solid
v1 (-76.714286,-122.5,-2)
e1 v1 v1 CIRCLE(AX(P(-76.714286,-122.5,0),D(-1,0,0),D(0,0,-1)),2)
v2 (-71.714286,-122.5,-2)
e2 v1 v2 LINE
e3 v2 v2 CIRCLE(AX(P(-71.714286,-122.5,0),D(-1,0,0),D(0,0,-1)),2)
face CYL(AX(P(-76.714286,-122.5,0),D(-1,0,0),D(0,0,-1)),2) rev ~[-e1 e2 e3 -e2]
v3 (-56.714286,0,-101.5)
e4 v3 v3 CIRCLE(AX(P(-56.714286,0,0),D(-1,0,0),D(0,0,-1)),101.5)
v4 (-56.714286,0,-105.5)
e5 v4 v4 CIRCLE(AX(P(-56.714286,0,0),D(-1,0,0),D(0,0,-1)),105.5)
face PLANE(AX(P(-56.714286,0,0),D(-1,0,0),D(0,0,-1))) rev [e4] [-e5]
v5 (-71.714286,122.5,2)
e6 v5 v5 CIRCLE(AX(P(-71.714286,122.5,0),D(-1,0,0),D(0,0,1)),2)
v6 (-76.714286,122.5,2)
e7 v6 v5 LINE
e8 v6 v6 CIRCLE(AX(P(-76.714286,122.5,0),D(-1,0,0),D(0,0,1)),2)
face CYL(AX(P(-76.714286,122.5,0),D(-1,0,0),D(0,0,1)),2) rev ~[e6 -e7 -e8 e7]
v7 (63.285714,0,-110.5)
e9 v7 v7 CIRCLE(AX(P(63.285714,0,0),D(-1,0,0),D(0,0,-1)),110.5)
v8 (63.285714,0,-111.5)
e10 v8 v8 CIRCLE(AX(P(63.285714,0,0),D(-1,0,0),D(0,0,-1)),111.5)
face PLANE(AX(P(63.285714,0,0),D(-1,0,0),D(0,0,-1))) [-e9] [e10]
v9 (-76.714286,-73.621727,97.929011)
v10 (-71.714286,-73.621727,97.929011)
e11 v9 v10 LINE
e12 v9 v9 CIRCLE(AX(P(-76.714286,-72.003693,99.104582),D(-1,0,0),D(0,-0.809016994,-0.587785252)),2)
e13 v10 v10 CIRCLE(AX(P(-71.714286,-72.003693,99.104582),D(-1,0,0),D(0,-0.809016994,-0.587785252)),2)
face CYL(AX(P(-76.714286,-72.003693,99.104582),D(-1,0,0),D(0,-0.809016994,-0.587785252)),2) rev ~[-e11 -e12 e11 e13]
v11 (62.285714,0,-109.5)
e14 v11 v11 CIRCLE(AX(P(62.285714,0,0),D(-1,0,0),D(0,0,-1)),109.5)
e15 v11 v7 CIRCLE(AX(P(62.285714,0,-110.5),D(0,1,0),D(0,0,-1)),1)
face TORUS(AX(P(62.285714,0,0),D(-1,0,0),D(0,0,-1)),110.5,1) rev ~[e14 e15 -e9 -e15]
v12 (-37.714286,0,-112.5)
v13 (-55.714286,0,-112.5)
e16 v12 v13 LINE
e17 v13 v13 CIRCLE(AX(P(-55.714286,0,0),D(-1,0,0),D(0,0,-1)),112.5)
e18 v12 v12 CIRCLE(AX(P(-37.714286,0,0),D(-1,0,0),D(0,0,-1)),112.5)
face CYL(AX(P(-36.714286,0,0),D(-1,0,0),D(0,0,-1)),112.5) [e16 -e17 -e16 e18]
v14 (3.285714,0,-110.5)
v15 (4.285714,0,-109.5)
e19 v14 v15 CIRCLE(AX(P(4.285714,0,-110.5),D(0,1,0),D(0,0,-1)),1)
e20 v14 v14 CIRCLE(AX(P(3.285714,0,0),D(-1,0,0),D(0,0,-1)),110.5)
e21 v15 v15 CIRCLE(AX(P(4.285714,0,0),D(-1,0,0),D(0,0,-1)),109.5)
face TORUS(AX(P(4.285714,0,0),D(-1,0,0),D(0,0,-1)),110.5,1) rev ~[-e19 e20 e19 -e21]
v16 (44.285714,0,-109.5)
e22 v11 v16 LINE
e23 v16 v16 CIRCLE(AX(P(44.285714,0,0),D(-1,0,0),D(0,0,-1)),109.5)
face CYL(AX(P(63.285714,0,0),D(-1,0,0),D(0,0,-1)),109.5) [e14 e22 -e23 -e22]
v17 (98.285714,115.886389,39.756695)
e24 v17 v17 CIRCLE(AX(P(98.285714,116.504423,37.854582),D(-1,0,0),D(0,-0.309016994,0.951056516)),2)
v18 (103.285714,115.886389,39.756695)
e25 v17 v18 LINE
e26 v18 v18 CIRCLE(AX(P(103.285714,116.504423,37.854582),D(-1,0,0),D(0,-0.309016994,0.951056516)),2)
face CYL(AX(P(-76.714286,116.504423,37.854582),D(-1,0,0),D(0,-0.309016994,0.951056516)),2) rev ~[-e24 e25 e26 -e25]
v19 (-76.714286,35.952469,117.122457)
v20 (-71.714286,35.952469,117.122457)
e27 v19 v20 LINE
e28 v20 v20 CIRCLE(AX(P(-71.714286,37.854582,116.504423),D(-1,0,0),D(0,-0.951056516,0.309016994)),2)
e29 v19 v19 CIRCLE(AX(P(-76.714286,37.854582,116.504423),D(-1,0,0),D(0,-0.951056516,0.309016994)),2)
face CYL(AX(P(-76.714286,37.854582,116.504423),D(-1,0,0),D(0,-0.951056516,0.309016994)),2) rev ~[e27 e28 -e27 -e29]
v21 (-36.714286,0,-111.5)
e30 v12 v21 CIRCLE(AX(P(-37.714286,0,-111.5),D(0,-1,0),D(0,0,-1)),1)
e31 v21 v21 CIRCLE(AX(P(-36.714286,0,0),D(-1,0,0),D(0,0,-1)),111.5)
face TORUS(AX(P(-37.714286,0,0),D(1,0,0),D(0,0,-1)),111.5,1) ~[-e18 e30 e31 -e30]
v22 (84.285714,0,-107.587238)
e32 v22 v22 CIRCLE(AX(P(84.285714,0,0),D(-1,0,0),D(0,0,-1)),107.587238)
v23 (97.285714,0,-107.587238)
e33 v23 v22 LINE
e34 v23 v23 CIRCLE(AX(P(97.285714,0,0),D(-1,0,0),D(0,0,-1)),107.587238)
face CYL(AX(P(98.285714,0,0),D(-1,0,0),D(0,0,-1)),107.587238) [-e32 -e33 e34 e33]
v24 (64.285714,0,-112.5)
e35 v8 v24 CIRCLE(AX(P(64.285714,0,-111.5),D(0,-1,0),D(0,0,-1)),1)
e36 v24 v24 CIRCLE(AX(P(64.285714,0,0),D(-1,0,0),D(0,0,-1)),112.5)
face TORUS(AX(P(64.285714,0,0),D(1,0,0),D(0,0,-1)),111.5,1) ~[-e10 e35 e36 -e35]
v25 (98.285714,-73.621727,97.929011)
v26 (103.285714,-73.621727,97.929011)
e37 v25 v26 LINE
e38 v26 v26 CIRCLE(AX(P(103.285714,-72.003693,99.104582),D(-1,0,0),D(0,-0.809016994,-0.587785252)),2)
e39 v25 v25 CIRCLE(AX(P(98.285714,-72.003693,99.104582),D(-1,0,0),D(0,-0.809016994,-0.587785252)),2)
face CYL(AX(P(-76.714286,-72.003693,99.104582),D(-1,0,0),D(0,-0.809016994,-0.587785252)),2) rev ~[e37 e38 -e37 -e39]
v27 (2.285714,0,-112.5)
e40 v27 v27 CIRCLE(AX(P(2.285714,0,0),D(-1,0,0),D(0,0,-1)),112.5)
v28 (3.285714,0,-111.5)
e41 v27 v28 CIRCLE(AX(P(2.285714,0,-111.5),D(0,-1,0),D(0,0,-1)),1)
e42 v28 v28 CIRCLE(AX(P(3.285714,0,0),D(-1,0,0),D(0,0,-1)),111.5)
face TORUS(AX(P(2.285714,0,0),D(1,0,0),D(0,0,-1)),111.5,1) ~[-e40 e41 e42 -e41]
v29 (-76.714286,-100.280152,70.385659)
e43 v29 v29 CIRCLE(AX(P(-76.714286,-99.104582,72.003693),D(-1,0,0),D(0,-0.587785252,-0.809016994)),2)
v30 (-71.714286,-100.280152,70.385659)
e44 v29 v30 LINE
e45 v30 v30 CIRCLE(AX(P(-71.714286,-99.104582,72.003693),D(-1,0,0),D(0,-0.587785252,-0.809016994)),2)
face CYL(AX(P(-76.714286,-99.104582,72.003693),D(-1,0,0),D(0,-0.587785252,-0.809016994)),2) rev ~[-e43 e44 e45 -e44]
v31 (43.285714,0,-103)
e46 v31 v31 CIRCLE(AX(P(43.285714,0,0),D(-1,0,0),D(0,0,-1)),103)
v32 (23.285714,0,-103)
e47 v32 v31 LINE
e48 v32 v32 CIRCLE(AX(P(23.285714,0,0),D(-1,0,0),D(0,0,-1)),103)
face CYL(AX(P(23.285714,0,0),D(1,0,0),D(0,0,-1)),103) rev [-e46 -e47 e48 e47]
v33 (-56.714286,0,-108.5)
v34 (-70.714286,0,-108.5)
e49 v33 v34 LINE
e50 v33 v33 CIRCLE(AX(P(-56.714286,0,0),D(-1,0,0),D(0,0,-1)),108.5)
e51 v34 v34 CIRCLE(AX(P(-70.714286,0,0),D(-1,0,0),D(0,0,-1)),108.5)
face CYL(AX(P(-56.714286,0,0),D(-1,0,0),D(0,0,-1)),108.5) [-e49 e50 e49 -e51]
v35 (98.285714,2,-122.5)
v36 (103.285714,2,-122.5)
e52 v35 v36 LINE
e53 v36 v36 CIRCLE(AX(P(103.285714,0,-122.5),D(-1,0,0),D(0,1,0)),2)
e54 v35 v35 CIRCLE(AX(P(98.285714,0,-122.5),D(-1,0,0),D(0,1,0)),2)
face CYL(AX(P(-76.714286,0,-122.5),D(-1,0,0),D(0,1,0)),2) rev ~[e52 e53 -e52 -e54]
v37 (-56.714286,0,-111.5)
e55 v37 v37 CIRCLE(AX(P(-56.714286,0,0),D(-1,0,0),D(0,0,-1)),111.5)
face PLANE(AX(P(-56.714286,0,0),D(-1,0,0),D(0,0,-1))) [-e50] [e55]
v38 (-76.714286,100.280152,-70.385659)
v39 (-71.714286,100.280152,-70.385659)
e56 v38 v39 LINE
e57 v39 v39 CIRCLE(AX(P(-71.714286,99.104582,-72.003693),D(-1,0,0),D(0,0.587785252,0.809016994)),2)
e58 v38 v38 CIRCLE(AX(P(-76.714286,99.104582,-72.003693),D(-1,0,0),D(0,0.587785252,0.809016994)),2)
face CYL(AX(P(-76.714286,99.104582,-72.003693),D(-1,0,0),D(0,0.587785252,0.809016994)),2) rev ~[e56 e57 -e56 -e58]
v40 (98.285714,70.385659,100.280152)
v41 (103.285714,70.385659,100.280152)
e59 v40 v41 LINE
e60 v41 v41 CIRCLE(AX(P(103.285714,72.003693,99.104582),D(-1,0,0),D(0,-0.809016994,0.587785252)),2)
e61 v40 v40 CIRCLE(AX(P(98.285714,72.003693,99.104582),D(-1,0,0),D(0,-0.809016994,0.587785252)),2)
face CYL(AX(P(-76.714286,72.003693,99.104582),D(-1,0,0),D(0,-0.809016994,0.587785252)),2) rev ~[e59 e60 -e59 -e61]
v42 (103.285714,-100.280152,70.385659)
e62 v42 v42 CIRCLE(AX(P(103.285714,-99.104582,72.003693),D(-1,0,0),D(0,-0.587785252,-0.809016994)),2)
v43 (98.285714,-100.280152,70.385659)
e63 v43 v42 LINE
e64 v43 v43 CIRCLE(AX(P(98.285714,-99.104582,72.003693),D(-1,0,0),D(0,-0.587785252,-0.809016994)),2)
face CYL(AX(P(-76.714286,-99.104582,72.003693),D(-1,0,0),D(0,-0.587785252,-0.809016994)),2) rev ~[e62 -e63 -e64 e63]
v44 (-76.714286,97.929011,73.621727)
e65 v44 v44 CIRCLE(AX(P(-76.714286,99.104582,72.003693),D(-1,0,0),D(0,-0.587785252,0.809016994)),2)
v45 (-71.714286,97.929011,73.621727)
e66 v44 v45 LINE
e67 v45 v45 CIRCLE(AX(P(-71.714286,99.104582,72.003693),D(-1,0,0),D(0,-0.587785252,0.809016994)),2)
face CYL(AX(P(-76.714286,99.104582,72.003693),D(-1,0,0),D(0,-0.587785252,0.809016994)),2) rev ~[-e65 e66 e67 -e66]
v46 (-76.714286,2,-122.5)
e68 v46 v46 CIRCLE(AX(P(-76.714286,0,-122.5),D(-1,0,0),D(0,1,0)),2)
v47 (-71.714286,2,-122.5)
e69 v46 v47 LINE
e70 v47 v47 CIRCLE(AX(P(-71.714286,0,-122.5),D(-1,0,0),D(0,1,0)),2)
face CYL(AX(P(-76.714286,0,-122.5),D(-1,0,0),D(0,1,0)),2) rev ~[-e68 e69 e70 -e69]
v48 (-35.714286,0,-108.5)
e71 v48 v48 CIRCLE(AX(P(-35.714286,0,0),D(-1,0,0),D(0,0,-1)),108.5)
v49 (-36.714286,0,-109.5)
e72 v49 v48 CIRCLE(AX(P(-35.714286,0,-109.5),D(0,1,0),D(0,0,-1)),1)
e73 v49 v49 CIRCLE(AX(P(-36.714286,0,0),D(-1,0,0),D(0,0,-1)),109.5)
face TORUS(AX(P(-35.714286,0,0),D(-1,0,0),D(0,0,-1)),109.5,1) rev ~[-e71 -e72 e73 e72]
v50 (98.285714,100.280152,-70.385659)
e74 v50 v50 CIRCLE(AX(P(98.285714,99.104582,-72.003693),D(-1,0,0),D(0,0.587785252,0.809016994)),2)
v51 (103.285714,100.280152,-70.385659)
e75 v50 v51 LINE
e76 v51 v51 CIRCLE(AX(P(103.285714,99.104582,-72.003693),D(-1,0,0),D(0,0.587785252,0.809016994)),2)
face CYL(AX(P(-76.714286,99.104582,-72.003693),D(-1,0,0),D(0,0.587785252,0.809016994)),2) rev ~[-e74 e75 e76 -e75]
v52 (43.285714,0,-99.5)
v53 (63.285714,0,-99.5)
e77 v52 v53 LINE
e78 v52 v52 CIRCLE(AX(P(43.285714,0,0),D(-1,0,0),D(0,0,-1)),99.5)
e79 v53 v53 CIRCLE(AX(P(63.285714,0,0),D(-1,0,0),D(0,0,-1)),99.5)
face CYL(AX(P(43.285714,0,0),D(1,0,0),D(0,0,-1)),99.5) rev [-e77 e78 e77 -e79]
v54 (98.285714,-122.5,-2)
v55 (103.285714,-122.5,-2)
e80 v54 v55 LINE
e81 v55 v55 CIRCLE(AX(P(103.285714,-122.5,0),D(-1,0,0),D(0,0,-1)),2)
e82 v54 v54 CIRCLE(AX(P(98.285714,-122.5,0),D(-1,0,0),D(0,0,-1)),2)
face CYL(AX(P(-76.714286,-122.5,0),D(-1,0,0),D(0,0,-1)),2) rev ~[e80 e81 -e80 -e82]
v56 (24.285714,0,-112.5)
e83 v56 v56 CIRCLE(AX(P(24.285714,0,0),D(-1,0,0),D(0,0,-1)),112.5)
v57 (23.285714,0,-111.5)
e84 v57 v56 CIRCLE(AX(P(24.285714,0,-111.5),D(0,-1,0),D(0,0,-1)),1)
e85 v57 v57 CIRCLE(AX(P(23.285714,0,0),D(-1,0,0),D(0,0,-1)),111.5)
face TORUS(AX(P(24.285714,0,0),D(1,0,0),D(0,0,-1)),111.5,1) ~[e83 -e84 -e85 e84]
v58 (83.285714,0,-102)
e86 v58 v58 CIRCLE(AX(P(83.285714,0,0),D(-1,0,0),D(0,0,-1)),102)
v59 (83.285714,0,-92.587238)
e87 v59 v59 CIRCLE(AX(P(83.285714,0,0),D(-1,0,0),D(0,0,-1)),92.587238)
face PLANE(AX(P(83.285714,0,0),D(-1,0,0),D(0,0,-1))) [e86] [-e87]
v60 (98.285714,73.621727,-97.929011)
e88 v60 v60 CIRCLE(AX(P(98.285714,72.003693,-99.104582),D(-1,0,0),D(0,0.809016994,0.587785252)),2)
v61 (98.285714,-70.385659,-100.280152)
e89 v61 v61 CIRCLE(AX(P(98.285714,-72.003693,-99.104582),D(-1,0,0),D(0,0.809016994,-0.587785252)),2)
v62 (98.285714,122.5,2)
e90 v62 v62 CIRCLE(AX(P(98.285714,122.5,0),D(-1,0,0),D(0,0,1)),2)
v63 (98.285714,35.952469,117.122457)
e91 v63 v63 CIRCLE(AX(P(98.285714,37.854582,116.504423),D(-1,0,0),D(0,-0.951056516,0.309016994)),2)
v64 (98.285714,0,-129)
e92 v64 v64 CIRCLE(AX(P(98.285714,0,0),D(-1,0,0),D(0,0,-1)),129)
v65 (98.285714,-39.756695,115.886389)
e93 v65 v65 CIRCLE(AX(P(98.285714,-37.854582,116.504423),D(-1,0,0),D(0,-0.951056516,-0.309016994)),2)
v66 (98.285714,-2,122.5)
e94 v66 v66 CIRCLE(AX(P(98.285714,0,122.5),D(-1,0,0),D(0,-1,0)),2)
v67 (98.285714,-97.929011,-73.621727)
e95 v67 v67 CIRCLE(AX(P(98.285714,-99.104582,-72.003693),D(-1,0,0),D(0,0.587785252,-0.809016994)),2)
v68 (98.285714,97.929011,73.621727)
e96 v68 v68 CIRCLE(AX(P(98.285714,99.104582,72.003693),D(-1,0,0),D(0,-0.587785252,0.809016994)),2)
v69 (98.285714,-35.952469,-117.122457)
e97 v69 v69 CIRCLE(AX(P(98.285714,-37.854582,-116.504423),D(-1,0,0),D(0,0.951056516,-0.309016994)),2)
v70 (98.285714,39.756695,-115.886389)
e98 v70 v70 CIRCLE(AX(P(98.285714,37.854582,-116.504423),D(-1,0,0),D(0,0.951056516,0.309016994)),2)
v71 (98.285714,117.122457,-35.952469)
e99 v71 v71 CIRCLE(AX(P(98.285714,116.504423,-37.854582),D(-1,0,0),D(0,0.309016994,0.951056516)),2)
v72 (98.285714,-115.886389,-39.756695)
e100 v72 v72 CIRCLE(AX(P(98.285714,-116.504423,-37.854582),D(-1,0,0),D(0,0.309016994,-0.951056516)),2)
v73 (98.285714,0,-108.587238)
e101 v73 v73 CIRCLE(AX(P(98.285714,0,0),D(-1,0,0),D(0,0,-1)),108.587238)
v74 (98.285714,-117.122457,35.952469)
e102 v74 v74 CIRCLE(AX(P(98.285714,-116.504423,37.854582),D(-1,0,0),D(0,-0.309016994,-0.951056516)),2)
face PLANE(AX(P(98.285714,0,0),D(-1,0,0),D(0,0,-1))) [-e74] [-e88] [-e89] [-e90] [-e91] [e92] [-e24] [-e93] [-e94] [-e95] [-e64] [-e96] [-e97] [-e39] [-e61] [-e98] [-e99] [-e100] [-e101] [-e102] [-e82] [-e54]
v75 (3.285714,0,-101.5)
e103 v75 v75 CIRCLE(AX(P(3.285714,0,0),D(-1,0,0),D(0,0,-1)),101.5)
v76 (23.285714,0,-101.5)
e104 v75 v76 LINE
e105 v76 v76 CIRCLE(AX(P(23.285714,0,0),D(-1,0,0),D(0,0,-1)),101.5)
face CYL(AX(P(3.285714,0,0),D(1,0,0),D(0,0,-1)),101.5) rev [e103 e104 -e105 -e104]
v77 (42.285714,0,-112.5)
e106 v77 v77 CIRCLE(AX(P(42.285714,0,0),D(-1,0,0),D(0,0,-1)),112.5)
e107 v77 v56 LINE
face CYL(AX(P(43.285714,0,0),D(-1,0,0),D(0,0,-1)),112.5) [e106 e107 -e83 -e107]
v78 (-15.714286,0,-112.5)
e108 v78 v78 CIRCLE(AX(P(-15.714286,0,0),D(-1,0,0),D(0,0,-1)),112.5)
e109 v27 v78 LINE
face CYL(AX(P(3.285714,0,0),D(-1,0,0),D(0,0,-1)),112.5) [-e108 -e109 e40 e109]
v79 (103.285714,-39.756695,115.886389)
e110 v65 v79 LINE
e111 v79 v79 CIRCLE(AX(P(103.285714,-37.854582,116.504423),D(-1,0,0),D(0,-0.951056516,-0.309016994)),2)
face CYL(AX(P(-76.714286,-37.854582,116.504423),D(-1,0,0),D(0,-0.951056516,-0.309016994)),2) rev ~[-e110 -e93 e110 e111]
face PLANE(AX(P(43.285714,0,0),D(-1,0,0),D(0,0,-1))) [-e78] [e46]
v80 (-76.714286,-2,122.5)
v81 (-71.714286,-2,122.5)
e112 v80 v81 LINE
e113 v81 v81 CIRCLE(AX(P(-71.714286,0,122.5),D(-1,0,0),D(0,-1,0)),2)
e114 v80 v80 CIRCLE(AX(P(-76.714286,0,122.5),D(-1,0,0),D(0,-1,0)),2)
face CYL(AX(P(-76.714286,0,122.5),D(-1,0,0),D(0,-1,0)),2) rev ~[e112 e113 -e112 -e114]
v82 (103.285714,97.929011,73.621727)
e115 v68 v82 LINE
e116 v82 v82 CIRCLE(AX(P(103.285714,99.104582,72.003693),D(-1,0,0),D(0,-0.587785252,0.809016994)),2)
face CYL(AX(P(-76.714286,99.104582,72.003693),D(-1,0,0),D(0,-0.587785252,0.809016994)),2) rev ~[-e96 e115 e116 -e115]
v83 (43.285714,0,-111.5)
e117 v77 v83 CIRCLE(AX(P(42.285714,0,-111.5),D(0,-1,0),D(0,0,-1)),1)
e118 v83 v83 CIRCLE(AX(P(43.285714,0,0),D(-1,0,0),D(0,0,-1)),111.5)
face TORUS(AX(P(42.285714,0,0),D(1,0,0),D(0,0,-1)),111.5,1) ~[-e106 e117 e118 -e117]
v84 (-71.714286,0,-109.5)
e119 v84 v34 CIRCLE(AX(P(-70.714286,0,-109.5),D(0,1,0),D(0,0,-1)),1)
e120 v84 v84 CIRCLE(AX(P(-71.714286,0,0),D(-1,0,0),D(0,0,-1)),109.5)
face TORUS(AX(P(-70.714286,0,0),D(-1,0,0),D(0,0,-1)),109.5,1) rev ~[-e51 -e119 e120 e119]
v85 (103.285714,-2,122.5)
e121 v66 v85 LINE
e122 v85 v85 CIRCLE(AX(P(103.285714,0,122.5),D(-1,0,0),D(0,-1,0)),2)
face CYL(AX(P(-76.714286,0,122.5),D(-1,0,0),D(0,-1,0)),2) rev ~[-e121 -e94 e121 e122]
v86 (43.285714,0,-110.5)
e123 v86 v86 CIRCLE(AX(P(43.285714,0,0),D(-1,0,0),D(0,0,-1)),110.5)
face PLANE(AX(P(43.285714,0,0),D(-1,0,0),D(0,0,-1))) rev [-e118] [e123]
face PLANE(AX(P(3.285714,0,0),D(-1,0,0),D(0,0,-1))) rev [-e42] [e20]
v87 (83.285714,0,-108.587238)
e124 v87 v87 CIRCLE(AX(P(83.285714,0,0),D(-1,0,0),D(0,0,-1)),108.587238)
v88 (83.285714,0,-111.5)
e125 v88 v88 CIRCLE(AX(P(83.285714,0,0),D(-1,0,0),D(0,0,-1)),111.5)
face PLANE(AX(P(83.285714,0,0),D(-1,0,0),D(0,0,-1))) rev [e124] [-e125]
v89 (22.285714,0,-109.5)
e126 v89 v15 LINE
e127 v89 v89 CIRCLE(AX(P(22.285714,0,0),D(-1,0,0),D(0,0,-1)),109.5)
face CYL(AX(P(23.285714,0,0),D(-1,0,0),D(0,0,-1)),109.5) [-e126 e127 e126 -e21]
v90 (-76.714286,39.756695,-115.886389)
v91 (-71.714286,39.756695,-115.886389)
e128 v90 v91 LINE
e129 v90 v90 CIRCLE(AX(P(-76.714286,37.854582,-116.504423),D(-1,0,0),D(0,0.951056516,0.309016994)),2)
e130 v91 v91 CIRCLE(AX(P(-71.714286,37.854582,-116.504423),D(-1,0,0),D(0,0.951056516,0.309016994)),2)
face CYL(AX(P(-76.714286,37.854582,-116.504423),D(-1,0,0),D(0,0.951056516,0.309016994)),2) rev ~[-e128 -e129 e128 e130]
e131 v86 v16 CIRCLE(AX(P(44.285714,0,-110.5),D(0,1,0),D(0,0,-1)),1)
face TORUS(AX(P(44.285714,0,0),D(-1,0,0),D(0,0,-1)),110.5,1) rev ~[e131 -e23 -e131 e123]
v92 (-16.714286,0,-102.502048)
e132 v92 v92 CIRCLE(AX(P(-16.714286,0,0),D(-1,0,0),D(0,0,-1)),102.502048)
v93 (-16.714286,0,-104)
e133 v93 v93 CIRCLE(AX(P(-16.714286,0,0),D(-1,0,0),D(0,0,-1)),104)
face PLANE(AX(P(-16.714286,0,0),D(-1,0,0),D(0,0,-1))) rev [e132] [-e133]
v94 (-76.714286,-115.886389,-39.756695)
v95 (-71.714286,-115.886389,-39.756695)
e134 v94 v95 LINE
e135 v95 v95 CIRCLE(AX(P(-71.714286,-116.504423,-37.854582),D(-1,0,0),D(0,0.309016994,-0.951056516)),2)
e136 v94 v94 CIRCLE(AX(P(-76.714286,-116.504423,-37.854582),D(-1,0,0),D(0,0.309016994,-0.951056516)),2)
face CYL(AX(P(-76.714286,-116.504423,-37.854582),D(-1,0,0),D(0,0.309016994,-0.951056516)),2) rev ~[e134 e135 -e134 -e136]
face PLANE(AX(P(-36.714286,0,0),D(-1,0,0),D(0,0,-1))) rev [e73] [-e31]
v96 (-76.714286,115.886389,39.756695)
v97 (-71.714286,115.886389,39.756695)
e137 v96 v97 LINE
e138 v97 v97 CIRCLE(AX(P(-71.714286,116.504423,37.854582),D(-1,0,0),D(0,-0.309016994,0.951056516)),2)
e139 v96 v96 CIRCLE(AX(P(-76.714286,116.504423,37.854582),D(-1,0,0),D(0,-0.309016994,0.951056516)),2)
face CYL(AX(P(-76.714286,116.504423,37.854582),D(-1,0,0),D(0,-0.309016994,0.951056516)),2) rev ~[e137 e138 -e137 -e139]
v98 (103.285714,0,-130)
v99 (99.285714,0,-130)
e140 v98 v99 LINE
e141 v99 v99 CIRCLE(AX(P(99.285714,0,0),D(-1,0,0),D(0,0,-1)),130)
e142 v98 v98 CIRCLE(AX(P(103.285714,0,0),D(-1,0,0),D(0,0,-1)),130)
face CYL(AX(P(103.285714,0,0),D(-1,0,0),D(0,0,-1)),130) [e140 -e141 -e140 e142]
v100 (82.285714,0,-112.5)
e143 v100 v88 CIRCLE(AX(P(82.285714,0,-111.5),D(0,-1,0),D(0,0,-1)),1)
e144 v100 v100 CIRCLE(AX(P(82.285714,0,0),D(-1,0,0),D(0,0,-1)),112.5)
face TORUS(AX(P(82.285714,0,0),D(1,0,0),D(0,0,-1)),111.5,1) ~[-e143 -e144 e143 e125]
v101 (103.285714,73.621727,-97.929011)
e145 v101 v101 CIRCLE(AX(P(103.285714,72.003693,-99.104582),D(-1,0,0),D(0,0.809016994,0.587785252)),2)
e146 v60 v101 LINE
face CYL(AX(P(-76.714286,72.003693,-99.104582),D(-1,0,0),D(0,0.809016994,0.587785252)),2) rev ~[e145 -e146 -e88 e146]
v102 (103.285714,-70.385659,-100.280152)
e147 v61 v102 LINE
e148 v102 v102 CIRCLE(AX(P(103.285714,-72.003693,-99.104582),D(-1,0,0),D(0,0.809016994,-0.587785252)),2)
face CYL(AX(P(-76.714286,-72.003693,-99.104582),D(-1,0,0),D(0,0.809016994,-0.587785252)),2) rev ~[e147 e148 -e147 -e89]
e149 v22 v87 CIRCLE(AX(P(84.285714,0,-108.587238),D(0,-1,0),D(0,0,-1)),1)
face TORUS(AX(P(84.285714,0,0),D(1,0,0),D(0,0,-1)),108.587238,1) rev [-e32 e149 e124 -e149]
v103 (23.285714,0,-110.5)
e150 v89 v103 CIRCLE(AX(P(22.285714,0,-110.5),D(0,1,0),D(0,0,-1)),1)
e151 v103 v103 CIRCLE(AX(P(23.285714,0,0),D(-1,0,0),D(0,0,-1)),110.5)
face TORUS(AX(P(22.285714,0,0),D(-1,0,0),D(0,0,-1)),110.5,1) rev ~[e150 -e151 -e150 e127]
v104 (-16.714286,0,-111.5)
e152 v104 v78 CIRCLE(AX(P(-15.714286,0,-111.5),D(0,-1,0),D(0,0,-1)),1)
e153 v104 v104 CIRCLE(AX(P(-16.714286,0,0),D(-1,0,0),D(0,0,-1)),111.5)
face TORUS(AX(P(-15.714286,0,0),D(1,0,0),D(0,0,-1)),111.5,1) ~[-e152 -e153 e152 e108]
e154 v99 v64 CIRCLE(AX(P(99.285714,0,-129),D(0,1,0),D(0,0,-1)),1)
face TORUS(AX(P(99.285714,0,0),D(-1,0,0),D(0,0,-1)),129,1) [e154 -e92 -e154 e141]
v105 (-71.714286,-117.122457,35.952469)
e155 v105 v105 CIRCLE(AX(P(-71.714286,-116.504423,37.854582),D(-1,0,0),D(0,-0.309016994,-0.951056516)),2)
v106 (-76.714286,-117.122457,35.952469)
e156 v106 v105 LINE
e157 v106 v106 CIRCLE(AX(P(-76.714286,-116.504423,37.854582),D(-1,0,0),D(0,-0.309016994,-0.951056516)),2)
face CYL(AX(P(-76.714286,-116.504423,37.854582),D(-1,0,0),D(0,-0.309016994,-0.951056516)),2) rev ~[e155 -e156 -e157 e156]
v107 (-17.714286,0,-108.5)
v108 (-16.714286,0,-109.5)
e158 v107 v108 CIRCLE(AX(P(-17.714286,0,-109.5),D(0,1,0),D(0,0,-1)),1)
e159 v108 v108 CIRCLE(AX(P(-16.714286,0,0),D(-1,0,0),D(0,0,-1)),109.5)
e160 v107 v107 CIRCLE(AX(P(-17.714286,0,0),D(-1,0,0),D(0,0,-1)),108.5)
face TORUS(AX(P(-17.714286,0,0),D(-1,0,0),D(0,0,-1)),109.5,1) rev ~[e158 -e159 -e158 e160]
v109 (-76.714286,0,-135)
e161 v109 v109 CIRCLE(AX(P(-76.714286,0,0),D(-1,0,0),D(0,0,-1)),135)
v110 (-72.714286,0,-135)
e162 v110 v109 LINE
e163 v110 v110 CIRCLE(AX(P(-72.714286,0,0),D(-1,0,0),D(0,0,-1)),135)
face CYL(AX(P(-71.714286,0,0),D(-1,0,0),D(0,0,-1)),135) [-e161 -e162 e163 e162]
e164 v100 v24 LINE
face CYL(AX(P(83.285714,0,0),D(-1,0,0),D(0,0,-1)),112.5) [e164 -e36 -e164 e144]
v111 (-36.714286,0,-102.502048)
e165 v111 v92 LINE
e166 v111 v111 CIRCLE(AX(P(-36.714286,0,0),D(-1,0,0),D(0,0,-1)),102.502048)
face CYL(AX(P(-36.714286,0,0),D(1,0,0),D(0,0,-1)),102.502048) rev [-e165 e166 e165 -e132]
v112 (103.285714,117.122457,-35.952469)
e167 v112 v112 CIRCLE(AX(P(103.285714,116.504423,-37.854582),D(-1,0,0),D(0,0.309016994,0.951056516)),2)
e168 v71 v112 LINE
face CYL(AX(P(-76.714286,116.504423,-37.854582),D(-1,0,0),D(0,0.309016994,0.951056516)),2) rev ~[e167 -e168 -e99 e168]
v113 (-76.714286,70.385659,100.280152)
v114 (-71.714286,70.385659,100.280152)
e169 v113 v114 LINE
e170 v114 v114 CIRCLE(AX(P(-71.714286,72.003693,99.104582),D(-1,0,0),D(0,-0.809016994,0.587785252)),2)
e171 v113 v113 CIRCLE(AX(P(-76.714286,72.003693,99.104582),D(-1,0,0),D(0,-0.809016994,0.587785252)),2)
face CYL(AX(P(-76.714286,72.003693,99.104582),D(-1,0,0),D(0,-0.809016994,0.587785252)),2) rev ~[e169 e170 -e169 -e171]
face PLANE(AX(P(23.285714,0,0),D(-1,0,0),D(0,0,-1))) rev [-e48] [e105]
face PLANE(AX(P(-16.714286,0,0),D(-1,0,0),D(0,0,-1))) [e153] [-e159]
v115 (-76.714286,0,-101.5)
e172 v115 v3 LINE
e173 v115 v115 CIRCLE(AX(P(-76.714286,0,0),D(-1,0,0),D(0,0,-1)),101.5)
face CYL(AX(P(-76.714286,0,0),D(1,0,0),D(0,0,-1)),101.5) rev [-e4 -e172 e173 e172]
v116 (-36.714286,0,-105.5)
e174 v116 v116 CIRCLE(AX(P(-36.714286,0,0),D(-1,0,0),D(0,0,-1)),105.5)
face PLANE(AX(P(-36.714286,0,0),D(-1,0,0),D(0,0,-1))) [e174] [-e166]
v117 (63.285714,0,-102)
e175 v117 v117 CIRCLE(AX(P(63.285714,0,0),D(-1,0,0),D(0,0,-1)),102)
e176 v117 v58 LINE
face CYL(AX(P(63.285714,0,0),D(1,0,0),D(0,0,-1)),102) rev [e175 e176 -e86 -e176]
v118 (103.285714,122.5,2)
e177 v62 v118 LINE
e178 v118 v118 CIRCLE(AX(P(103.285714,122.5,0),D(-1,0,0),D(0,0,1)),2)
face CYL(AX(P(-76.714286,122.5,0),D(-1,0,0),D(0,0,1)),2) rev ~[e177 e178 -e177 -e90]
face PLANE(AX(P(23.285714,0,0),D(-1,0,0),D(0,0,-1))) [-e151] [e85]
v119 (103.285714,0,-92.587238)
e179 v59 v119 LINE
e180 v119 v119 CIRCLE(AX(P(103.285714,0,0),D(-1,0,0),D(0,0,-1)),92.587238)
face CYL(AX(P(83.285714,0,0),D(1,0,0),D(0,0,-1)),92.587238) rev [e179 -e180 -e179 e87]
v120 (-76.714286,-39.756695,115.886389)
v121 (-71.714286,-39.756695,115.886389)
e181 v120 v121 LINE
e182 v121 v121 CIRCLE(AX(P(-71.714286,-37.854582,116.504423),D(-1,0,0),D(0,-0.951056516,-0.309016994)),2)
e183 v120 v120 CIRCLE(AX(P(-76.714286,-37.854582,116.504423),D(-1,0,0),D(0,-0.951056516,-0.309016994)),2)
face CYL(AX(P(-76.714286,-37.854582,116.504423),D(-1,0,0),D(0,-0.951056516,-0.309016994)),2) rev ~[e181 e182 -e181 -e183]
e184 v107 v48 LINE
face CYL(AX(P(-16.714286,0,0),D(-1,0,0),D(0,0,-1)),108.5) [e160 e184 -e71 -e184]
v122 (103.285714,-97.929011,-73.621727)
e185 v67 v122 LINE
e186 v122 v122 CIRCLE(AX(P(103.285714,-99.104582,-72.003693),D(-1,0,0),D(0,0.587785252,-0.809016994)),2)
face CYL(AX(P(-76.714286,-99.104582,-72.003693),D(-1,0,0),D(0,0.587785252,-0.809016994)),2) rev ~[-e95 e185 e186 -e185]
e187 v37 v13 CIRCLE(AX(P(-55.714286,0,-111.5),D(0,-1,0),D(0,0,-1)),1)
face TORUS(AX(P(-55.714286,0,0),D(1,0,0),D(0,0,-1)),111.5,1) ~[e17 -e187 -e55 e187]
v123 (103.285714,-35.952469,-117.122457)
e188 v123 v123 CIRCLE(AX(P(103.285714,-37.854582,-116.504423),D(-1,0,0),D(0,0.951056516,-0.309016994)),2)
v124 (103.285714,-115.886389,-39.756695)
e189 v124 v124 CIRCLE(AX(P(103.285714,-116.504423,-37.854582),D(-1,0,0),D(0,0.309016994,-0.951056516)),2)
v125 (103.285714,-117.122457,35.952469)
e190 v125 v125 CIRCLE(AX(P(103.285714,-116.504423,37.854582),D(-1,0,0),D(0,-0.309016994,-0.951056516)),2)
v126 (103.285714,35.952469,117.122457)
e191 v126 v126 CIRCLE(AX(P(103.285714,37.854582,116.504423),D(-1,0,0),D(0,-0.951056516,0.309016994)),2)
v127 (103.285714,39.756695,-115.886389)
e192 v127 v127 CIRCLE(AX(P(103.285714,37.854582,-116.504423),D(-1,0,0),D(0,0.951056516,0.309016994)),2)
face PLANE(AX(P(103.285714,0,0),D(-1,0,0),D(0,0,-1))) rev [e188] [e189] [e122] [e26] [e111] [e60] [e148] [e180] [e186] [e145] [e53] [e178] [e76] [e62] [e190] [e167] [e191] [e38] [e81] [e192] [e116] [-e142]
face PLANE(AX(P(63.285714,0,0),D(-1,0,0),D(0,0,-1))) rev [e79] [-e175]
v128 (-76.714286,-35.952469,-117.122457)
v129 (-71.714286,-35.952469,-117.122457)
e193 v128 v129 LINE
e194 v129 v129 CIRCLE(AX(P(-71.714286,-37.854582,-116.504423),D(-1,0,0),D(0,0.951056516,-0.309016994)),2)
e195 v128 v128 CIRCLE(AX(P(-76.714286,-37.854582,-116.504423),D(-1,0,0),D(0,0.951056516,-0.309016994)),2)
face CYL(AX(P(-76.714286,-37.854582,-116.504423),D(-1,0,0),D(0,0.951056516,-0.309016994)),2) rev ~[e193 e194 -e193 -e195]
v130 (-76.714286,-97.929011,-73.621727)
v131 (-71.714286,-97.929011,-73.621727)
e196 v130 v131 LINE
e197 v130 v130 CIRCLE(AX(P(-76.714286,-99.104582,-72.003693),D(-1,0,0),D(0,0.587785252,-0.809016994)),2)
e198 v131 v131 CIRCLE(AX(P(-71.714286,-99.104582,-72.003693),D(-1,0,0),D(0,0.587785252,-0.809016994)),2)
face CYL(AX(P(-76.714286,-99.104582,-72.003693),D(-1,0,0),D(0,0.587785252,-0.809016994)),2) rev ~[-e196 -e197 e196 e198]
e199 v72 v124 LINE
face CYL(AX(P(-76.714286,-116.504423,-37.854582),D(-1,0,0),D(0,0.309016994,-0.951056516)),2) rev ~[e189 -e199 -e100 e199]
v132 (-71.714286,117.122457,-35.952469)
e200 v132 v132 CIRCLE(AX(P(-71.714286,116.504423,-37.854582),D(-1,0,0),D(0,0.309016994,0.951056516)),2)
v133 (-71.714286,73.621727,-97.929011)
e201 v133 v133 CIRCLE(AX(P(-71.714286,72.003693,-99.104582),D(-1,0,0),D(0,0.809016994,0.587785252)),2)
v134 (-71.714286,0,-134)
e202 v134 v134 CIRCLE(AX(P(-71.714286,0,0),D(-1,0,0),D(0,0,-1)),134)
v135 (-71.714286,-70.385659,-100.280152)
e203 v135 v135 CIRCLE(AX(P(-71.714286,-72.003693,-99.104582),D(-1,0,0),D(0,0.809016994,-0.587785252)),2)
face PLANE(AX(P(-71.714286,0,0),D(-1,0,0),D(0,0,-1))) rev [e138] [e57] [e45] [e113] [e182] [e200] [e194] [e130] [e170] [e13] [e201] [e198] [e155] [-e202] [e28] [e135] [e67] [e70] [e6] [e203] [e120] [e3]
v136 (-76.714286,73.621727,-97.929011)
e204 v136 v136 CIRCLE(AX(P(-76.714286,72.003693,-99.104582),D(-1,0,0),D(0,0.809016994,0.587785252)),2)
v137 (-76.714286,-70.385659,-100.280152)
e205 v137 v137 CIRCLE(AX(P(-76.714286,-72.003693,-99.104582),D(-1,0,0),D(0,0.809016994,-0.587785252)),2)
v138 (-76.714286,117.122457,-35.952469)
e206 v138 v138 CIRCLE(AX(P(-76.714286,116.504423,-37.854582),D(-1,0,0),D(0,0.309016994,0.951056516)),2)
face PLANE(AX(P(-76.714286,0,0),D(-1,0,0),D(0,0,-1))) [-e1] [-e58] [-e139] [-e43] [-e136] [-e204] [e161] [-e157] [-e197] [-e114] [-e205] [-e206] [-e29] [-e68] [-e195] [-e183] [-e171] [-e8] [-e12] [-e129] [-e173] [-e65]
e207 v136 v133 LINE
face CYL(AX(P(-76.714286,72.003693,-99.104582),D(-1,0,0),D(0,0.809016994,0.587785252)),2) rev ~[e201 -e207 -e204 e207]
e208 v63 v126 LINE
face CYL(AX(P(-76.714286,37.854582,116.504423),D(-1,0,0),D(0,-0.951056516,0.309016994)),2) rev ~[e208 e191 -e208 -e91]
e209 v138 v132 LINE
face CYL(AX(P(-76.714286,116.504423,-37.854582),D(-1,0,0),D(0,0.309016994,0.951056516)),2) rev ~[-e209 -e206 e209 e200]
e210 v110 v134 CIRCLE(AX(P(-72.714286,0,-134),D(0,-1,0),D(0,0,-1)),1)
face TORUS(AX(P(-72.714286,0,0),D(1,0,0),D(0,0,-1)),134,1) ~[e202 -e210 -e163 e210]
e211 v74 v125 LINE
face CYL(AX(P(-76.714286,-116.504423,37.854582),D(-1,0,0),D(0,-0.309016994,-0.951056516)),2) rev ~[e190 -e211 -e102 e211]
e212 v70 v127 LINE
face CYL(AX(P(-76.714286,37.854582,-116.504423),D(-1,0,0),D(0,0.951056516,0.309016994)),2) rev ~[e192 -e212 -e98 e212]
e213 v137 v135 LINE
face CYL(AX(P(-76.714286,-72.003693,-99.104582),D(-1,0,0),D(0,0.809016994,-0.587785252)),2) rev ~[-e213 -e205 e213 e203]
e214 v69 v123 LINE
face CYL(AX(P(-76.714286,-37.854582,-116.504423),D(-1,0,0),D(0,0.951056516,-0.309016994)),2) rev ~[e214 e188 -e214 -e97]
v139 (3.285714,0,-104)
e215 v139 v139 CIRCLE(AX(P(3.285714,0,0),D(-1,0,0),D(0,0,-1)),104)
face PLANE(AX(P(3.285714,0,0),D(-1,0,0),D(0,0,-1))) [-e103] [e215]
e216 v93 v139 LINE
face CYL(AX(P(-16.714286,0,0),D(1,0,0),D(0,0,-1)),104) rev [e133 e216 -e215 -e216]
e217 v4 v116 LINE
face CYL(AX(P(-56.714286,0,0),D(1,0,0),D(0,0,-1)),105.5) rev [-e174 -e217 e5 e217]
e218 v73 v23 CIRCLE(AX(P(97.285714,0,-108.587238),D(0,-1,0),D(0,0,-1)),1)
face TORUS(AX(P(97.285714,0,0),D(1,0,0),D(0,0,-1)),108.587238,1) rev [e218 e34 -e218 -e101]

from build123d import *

# Parameters (mm, degrees)
SKETCH2_R          = 2
CUT_EXTRUDE1_DEPTH = 263.392835268
CIRPATTERN1_COUNT  = 20
FILLET1_R          = 1


with BuildPart() as part:
    # Sketch1 → Revolve1 (revolve)
    with BuildSketch(Plane.XY, mode=Mode.PRIVATE) as revolve1_sk:
        Polygon((-56.714285714, 101.5), (-56.714285714, 105.5), (-36.714285714, 105.5), (-36.714285714, 102.502047748), (-16.714285714, 102.502047748), (-16.714285714, 104), (3.285714286, 104), (3.285714286, 101.5), (23.285714286, 101.5), (23.285714286, 103), (43.285714286, 103), (43.285714286, 99.5), (63.285714286, 99.5), (63.285714286, 102), (83.285714286, 102), (83.285714286, 92.587237719), (103.285714286, 92.587237719), (103.285714286, 130), (98.285714286, 130), (98.285714286, 107.587237719), (83.285714286, 107.587237719), (83.285714286, 112.5), (63.285714286, 112.5), (63.285714286, 109.5), (43.285714286, 109.5), (43.285714286, 112.5), (23.285714286, 112.5), (23.285714286, 109.5), (3.285714286, 109.5), (3.285714286, 112.5), (-16.714285714, 112.5), (-16.714285714, 108.5), (-36.714285714, 108.5), (-36.714285714, 112.5), (-56.714285714, 112.5), (-56.714285714, 108.5), (-71.714285714, 108.5), (-71.714285714, 135), (-76.714285714, 135), (-76.714285714, 101.5), align=None)
    revolve(revolve1_sk.sketch.rotate(Axis((120.399774702, 0, 0), (-1, 0, 0)), 90), axis=Axis((120.399774702, 0, 0), (-1, 0, 0)))

    # Sketch2 → Cut-Extrude1 (cut, through all)
    with BuildSketch(Plane.ZY.offset(76.714285714)):
        with Locations((0, 122.5)):
            Circle(SKETCH2_R)
    cut_extrude1 = extrude(amount=-CUT_EXTRUDE1_DEPTH, mode=Mode.SUBTRACT)

    # CirPattern1: Cut-Extrude1 ×20 about axis
    cirpattern1_axis = Axis((0, 0, 0), (1, 0, 0))
    for i in range(1, CIRPATTERN1_COUNT):
        add(cut_extrude1.rotate(cirpattern1_axis, i * 360 / CIRPATTERN1_COUNT), mode=Mode.SUBTRACT)

    # Fillet1
    fillet1_edges = [part.edges().sort_by_distance(p)[0] for p in [
        (-36.714285714, 0, 108.5),
        (-16.714285714, 0, 108.5),
        (-16.714285714, 0, 112.5),
        (3.285714286, 0, 112.5),
        (3.285714286, 0, 109.5),
        (23.285714286, 0, 109.5),
        (23.285714286, 0, 112.5),
        (43.285714286, 0, 112.5),
        (43.285714286, 0, 109.5),
        (63.285714286, 0, 109.5),
        (63.285714286, 0, 112.5),
        (83.285714286, 0, 112.5),
        (83.285714286, 0, 107.587237719),
        (98.285714286, 0, 107.587237719),
        (98.285714286, 0, 130),
        (-71.714285714, 0, 135),
        (-71.714285714, 0, 108.5),
        (-56.714285714, 0, 112.5),
        (-36.714285714, 0, 112.5),
    ]]
    fillet(fillet1_edges, radius=FILLET1_R)


solid = part.part
